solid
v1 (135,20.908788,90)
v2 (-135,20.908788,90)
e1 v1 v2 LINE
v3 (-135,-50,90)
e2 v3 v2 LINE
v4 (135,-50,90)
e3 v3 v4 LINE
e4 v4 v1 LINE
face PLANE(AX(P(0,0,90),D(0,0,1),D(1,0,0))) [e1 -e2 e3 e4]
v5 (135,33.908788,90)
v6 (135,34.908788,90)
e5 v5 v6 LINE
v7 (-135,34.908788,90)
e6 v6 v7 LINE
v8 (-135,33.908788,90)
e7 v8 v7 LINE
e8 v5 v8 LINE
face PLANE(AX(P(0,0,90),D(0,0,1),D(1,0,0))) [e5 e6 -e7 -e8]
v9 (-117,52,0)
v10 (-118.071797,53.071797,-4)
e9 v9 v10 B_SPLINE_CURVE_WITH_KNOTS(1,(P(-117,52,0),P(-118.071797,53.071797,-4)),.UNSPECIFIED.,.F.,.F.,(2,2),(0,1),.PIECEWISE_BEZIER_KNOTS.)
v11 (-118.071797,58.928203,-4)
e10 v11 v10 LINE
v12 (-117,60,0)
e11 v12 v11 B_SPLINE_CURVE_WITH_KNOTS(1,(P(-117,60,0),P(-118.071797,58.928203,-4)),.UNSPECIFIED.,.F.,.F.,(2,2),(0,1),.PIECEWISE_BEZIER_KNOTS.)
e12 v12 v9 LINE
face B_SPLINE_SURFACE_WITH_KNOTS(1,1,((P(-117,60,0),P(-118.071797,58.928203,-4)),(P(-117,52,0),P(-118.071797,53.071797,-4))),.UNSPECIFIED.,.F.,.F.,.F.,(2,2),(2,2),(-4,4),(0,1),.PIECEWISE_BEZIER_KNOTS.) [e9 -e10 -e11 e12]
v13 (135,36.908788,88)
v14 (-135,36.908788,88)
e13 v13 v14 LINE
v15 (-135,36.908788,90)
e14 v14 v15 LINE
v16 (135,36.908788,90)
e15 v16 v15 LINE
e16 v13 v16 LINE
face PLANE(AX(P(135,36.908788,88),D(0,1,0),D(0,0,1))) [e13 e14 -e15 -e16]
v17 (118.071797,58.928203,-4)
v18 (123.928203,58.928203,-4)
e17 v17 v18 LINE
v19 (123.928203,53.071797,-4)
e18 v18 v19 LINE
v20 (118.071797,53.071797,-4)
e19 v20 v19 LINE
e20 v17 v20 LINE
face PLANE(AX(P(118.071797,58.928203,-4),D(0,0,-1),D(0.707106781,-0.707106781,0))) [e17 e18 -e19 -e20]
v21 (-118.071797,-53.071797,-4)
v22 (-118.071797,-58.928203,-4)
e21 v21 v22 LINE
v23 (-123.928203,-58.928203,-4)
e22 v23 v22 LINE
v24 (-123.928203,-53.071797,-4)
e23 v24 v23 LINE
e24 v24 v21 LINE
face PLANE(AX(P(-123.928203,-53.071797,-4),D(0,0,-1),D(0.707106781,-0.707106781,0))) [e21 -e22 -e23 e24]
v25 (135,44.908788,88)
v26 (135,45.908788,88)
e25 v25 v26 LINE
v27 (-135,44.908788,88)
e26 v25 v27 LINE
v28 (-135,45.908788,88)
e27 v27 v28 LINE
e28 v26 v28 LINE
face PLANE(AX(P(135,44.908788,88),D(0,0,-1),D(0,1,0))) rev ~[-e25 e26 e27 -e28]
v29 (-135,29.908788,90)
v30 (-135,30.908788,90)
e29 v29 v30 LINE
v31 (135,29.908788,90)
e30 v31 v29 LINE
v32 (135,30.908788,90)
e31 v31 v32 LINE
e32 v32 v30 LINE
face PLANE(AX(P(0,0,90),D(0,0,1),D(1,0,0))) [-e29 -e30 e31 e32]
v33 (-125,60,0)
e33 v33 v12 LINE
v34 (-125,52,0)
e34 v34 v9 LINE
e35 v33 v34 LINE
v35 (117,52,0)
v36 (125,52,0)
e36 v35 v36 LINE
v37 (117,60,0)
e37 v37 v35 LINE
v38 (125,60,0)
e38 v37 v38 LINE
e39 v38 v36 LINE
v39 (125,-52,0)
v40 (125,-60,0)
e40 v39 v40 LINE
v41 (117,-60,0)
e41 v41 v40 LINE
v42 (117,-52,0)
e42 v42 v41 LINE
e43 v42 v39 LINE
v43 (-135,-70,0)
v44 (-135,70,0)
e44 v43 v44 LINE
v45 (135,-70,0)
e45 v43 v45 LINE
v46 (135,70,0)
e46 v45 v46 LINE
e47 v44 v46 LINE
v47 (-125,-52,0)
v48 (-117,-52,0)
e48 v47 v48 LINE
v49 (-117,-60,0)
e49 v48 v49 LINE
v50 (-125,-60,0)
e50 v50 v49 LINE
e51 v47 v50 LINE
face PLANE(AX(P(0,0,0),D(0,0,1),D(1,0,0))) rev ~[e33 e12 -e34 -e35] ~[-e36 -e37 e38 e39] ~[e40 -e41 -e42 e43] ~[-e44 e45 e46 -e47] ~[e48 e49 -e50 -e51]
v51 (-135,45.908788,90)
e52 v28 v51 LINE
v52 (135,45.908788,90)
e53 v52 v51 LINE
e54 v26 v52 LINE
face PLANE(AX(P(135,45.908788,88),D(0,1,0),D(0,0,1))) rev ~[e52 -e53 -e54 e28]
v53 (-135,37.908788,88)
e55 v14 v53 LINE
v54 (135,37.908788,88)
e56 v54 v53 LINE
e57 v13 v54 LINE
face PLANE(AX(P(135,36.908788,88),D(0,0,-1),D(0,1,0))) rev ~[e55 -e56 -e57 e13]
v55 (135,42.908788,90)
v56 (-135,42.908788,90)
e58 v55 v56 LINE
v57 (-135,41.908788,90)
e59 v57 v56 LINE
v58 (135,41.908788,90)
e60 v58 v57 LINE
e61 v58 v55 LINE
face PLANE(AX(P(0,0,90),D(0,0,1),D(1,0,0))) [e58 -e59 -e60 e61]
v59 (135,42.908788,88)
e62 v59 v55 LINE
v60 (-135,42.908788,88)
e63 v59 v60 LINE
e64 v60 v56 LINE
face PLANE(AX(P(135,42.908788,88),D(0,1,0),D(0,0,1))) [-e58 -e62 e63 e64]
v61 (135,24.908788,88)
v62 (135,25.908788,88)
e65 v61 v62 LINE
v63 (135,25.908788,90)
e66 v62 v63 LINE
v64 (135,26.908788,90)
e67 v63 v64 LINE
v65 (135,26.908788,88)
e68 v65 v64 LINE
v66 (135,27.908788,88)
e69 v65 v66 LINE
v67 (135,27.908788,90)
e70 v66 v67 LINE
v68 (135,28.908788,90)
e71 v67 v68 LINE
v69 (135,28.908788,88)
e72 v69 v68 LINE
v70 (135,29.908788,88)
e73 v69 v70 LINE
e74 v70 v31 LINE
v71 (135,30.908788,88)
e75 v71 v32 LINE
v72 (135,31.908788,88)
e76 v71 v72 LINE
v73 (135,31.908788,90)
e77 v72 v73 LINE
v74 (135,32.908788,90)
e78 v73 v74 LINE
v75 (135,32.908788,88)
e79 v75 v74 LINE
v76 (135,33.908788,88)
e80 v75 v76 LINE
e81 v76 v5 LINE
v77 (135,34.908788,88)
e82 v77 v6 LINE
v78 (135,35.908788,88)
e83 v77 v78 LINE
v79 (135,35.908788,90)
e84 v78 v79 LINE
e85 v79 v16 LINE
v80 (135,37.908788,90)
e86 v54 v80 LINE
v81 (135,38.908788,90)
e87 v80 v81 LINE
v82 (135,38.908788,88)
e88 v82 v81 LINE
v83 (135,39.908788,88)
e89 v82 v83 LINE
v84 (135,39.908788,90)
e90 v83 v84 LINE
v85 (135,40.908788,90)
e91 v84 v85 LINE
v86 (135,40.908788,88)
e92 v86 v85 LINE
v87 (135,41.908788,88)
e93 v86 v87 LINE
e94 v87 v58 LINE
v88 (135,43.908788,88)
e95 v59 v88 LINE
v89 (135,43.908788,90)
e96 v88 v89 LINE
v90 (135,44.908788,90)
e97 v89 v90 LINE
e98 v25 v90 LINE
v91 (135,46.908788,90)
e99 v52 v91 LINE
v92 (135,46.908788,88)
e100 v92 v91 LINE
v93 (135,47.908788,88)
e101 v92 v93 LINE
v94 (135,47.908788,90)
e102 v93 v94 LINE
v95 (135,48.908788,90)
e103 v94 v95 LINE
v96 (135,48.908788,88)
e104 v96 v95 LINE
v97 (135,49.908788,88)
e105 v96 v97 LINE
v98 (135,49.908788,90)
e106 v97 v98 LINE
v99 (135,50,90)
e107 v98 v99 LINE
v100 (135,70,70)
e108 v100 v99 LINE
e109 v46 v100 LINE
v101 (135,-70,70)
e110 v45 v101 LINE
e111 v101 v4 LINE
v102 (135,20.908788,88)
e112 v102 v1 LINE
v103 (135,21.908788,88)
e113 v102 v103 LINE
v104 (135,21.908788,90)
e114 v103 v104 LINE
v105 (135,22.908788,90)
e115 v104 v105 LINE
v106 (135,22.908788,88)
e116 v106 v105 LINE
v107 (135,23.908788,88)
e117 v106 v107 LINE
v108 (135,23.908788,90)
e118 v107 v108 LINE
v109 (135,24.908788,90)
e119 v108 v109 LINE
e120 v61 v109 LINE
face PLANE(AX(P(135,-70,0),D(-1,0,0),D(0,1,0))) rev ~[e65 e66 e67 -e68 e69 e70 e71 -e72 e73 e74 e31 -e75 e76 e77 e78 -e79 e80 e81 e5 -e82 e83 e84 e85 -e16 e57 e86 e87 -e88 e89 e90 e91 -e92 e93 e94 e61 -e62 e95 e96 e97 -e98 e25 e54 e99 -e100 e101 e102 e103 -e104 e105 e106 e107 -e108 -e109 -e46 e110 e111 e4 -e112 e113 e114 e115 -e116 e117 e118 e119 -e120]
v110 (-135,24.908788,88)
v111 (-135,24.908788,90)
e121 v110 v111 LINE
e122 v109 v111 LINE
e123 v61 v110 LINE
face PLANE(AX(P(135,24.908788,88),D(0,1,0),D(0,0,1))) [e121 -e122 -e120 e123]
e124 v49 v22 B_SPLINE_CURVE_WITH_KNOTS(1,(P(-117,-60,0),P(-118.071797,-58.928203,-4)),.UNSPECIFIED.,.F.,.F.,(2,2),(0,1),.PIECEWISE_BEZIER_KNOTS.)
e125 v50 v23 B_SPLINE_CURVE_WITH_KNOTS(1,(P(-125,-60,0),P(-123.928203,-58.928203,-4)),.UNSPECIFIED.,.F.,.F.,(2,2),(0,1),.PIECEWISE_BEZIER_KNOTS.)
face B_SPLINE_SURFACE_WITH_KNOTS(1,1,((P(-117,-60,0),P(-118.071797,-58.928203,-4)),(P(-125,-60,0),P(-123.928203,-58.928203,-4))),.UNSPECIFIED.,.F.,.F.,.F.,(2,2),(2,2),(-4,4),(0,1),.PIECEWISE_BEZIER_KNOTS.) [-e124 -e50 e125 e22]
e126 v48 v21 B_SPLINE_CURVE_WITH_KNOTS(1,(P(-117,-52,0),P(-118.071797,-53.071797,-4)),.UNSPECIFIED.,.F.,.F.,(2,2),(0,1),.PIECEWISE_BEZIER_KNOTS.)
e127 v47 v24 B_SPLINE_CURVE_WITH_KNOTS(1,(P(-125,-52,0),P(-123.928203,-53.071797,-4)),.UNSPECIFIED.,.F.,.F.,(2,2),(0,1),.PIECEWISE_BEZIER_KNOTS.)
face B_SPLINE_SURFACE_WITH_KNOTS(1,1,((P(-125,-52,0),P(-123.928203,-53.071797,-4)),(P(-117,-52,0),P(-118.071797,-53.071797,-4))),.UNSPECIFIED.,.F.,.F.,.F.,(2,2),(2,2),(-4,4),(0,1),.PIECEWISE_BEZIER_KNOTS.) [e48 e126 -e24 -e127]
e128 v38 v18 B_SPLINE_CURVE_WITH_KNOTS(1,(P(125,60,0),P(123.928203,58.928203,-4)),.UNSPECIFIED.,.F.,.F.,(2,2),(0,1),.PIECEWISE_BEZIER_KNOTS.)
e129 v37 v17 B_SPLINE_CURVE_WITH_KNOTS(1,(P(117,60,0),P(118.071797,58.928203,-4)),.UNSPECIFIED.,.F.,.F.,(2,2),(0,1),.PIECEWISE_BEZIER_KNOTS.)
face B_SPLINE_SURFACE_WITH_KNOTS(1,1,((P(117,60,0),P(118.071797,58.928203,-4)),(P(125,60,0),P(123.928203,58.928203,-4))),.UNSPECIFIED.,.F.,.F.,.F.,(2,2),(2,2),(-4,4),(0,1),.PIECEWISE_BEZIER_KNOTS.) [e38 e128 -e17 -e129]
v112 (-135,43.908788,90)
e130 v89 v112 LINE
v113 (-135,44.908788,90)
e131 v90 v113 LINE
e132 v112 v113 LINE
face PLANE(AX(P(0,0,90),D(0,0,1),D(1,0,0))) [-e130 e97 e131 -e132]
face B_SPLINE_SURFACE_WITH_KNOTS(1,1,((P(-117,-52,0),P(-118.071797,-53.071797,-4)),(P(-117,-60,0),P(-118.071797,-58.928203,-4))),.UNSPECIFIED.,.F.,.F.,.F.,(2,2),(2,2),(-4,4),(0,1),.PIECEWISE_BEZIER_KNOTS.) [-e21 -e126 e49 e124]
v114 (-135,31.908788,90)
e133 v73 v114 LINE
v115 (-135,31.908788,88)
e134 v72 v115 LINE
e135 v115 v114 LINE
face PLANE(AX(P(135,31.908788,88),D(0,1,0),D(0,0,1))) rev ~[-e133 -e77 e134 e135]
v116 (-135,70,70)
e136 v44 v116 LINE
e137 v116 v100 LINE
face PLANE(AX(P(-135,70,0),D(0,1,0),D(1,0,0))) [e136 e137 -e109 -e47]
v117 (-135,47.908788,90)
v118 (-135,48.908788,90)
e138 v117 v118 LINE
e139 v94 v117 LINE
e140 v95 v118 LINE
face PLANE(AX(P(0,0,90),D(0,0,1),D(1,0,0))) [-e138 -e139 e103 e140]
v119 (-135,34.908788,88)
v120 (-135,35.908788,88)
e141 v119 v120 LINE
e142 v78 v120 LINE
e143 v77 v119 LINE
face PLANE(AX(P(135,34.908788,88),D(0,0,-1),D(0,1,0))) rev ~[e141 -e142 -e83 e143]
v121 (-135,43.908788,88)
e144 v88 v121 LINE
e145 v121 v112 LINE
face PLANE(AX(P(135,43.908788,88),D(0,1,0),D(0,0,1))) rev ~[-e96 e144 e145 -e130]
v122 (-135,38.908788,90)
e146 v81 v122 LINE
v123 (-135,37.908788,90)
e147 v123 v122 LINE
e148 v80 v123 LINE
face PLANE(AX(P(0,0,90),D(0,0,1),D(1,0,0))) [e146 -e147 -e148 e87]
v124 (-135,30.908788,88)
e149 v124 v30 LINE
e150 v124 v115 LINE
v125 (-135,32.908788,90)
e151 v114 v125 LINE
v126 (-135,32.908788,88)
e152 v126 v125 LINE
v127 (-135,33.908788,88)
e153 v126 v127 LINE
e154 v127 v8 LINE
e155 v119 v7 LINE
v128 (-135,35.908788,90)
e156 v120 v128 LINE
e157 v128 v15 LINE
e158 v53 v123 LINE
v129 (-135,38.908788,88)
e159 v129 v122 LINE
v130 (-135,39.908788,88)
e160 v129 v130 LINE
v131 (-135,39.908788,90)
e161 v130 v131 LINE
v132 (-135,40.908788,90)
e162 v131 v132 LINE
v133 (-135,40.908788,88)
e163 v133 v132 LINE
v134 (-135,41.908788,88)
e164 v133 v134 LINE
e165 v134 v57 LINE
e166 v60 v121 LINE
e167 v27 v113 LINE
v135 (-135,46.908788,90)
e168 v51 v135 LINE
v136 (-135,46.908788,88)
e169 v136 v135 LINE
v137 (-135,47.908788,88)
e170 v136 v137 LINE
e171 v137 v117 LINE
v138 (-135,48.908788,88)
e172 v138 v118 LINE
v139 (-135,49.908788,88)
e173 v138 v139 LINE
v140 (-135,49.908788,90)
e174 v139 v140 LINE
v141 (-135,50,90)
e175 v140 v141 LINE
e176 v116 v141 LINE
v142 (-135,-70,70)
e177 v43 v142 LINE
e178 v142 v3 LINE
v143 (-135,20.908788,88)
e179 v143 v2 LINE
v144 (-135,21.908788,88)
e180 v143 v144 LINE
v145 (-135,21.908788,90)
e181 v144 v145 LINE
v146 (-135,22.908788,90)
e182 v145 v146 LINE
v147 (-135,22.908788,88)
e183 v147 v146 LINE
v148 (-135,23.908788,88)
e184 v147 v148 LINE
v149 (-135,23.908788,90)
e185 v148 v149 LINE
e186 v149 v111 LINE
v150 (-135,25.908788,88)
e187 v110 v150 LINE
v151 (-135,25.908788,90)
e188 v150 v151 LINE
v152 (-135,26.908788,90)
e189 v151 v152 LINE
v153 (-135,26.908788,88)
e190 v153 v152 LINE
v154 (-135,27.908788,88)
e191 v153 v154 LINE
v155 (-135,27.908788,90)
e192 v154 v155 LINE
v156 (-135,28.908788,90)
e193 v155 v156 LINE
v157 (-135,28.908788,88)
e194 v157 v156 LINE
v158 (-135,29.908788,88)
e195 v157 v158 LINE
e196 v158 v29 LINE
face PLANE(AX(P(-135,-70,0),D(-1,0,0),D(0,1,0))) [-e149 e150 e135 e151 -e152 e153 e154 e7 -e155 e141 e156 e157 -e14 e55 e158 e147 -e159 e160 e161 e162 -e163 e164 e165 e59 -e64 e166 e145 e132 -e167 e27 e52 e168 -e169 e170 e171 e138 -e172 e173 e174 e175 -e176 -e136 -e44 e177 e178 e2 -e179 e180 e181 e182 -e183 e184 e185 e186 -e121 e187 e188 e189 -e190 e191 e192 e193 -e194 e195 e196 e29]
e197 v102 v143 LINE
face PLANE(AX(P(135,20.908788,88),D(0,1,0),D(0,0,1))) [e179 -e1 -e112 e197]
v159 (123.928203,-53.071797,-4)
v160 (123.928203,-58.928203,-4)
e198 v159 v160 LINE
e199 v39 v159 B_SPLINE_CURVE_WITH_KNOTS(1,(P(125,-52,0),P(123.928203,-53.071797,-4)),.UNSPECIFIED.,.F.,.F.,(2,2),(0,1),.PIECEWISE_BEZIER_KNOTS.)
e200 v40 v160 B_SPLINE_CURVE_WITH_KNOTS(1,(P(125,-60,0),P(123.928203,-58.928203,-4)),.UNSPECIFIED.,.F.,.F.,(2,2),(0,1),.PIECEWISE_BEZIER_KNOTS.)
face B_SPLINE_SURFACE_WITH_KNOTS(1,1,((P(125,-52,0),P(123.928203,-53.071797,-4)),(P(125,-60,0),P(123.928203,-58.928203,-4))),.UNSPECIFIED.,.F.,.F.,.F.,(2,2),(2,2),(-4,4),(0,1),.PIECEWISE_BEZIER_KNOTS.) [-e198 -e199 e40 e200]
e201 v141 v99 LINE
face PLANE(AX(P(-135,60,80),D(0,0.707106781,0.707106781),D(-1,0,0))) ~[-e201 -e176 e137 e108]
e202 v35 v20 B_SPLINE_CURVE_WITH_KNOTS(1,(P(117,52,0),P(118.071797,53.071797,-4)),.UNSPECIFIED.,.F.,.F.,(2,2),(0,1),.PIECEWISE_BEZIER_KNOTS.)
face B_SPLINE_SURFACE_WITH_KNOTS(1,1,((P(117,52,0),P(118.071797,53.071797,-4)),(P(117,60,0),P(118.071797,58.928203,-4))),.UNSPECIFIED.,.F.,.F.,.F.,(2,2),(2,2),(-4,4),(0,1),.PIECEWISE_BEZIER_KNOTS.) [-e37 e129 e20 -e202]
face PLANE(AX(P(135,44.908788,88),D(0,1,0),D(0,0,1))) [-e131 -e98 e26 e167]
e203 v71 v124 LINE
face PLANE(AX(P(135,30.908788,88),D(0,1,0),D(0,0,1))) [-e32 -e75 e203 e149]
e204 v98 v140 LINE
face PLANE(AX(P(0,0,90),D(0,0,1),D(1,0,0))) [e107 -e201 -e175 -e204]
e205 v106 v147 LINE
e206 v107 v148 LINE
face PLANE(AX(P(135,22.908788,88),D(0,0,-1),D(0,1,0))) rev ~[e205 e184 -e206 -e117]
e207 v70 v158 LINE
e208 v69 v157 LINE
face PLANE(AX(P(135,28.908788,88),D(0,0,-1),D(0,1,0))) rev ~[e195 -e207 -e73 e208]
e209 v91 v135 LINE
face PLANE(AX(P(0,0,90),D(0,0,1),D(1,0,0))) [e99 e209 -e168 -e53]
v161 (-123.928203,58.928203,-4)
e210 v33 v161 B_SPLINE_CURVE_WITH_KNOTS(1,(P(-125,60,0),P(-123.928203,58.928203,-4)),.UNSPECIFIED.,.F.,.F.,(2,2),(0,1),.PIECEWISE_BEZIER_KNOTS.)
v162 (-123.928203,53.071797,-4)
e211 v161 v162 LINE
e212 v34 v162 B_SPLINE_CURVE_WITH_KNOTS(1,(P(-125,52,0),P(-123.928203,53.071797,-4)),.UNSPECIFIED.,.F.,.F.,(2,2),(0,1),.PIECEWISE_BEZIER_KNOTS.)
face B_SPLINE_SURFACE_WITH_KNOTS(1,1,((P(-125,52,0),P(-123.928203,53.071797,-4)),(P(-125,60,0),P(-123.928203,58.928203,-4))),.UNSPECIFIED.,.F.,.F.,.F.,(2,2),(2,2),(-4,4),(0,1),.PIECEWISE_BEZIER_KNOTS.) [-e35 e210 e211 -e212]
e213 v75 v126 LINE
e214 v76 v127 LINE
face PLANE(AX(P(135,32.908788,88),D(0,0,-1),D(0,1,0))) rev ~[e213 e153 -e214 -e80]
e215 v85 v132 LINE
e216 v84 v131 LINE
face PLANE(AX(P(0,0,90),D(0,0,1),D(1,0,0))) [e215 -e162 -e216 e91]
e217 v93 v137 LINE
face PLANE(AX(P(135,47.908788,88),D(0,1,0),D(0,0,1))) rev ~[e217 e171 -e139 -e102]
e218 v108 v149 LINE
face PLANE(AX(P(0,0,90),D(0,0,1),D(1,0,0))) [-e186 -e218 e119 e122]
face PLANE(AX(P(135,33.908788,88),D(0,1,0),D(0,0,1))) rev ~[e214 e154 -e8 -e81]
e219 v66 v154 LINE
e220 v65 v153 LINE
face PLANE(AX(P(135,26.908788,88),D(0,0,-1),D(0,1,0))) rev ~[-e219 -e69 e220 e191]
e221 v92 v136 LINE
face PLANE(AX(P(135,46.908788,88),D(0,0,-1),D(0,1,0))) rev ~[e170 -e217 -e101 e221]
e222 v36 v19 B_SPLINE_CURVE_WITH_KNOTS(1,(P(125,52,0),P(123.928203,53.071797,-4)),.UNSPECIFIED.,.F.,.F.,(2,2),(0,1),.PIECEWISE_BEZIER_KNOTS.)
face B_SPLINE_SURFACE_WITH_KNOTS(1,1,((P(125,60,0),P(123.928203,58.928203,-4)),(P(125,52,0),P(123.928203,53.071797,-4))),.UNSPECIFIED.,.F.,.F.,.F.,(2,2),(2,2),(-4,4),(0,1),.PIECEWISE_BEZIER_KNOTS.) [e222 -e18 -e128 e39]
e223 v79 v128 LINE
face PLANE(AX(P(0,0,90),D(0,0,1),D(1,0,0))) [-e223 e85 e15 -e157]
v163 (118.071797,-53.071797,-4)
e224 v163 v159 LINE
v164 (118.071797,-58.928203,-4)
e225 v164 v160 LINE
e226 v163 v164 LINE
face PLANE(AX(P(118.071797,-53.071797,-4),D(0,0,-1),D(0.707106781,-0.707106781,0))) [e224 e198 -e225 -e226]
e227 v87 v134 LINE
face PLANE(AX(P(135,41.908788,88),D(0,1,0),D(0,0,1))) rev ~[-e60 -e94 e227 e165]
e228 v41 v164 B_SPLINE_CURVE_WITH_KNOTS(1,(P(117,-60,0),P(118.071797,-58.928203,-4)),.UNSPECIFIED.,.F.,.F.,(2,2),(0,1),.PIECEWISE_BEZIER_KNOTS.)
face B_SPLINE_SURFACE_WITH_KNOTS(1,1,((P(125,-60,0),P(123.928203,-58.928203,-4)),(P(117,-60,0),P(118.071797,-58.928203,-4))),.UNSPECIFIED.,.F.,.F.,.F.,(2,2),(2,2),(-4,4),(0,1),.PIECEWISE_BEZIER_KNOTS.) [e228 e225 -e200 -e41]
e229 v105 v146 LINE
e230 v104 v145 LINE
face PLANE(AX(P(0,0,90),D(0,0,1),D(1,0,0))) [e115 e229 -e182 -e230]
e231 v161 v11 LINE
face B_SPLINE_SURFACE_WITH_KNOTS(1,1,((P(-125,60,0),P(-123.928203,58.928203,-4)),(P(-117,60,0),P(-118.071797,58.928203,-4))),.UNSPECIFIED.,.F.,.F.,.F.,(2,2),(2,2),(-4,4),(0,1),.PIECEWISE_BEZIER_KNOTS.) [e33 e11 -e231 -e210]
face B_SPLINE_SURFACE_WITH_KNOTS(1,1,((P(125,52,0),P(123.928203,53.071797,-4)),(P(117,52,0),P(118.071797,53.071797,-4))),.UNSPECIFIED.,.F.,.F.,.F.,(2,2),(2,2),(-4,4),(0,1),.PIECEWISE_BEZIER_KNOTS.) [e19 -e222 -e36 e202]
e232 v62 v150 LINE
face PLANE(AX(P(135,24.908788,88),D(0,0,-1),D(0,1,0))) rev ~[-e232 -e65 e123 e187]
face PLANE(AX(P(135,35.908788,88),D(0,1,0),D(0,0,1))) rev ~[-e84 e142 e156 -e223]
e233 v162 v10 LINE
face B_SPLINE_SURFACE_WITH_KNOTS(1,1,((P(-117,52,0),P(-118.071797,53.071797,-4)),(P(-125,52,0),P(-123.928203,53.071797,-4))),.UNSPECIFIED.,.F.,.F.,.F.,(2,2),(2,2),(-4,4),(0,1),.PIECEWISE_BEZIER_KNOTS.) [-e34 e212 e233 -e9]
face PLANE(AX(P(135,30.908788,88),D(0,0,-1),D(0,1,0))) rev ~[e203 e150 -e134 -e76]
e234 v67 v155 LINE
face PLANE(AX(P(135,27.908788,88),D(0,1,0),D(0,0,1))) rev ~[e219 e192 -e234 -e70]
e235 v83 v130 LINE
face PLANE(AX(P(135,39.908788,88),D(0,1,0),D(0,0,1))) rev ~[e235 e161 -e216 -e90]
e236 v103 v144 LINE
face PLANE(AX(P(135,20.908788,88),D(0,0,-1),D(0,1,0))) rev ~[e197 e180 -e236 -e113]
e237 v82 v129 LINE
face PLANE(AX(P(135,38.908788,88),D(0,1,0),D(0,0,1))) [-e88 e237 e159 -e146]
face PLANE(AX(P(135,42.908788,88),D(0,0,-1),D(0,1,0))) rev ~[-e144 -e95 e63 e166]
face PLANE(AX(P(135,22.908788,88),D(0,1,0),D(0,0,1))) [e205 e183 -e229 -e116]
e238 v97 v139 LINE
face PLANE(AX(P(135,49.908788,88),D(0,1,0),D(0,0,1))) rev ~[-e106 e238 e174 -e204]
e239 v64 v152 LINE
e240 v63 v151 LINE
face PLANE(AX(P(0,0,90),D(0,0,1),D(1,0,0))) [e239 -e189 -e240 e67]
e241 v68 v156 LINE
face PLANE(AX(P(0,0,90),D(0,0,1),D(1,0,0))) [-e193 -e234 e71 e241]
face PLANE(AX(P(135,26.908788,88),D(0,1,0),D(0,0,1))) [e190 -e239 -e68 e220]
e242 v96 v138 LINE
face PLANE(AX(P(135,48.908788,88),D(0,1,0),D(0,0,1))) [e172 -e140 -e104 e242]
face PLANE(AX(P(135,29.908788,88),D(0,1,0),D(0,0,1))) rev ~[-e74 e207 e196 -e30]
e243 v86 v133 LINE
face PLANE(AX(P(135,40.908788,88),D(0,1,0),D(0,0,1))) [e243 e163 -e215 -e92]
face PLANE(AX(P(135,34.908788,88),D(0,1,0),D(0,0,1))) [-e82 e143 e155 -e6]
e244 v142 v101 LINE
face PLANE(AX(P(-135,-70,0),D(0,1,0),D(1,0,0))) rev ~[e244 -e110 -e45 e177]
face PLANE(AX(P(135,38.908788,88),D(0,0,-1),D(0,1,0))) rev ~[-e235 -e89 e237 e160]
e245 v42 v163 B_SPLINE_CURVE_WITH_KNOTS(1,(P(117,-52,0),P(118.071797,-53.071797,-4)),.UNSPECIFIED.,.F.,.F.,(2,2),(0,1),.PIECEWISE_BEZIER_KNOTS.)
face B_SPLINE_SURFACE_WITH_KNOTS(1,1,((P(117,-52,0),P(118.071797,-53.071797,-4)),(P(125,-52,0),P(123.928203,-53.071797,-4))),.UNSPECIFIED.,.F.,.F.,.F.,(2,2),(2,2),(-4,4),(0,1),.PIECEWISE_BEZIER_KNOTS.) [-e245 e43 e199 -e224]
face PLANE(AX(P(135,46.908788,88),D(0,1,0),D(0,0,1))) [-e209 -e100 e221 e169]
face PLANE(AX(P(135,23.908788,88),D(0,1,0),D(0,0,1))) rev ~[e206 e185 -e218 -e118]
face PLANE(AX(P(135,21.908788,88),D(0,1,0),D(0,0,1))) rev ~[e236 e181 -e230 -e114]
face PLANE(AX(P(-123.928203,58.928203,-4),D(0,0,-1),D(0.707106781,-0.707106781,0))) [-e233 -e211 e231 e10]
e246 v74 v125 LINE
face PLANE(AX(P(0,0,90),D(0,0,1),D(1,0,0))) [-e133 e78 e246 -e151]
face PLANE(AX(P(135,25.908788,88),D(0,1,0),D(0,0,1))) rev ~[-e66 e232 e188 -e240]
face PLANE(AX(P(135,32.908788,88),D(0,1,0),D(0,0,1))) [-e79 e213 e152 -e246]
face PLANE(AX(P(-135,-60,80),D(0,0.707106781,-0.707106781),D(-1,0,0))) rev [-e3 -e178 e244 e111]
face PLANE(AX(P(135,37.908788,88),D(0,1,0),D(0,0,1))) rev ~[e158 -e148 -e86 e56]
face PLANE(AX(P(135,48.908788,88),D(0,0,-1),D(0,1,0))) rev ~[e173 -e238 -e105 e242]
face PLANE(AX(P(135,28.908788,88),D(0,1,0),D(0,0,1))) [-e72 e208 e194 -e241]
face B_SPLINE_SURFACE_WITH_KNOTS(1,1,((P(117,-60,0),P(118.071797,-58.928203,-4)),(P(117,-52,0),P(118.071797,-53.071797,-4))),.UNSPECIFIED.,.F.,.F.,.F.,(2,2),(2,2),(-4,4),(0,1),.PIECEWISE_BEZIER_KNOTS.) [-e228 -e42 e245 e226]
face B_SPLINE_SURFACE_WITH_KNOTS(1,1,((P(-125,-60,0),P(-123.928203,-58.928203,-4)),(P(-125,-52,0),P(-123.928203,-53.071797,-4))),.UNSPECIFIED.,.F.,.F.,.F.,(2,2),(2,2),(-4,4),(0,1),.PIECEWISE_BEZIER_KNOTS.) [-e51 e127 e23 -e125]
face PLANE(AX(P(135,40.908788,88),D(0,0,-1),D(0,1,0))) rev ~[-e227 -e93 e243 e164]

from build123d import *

# Parameters (mm, degrees)
F0_W     = 270
F0_H     = 140
F1_DEPTH = 90
F2_SIZE  = 20
F3_W     = 1
F3_H     = 2
F4_DEPTH = 270
F5_W     = 8
F5_H     = 8
F6_DEPTH = 4
F6_TAPER = 15


with BuildPart() as f1:
    # F0 (on Top) → F1 (new body)
    with BuildSketch(Plane.XY):
        Rectangle(F0_W, F0_H)
    extrude(amount=F1_DEPTH)

    # F2
    f2_edges = [f1.edges().sort_by_distance(p)[0] for p in [
        (0, -70, 90),
        (0, 70, 90),
    ]]
    chamfer(f2_edges, length=F2_SIZE)

    # F3 (on face) → F4 (cut, through all)
    with BuildSketch(Plane.YZ.offset(135)):
        with Locations((21.4087878466, 89)):
            Rectangle(F3_W, F3_H)
        with Locations((23.4087878466, 89)):
            Rectangle(F3_W, F3_H)
        with Locations((25.4087878466, 89)):
            Rectangle(F3_W, F3_H)
        with Locations((27.4087878466, 89)):
            Rectangle(F3_W, F3_H)
        with Locations((29.4087878466, 89)):
            Rectangle(F3_W, F3_H)
        with Locations((31.4087878466, 89)):
            Rectangle(F3_W, F3_H)
        with Locations((33.4087878466, 89)):
            Rectangle(F3_W, F3_H)
        with Locations((35.4087878466, 89)):
            Rectangle(F3_W, F3_H)
        with Locations((37.4087878466, 89)):
            Rectangle(F3_W, F3_H)
        with Locations((39.4087878466, 89)):
            Rectangle(F3_W, F3_H)
        with Locations((41.4087878466, 89)):
            Rectangle(F3_W, F3_H)
        with Locations((43.4087878466, 89)):
            Rectangle(F3_W, F3_H)
        with Locations((45.4087878466, 89)):
            Rectangle(F3_W, F3_H)
        with Locations((47.4087878466, 89)):
            Rectangle(F3_W, F3_H)
        with Locations((49.4087878466, 89)):
            Rectangle(F3_W, F3_H)
    extrude(amount=-F4_DEPTH, mode=Mode.SUBTRACT)

    # F5 (on face) → F6 (join)
    with BuildSketch(Plane(origin=(0, 0, 0), x_dir=(1, 0, 0), z_dir=(0, 0, -1))):
        with Locations((121, 56)):
            Rectangle(F5_W, F5_H)
        with Locations((121, -56)):
            Rectangle(F5_W, F5_H)
        with Locations((-121, 56)):
            Rectangle(F5_W, F5_H)
        with Locations((-121, -56)):
            Rectangle(F5_W, F5_H)
    extrude(amount=F6_DEPTH, taper=F6_TAPER)


solid = f1.part
